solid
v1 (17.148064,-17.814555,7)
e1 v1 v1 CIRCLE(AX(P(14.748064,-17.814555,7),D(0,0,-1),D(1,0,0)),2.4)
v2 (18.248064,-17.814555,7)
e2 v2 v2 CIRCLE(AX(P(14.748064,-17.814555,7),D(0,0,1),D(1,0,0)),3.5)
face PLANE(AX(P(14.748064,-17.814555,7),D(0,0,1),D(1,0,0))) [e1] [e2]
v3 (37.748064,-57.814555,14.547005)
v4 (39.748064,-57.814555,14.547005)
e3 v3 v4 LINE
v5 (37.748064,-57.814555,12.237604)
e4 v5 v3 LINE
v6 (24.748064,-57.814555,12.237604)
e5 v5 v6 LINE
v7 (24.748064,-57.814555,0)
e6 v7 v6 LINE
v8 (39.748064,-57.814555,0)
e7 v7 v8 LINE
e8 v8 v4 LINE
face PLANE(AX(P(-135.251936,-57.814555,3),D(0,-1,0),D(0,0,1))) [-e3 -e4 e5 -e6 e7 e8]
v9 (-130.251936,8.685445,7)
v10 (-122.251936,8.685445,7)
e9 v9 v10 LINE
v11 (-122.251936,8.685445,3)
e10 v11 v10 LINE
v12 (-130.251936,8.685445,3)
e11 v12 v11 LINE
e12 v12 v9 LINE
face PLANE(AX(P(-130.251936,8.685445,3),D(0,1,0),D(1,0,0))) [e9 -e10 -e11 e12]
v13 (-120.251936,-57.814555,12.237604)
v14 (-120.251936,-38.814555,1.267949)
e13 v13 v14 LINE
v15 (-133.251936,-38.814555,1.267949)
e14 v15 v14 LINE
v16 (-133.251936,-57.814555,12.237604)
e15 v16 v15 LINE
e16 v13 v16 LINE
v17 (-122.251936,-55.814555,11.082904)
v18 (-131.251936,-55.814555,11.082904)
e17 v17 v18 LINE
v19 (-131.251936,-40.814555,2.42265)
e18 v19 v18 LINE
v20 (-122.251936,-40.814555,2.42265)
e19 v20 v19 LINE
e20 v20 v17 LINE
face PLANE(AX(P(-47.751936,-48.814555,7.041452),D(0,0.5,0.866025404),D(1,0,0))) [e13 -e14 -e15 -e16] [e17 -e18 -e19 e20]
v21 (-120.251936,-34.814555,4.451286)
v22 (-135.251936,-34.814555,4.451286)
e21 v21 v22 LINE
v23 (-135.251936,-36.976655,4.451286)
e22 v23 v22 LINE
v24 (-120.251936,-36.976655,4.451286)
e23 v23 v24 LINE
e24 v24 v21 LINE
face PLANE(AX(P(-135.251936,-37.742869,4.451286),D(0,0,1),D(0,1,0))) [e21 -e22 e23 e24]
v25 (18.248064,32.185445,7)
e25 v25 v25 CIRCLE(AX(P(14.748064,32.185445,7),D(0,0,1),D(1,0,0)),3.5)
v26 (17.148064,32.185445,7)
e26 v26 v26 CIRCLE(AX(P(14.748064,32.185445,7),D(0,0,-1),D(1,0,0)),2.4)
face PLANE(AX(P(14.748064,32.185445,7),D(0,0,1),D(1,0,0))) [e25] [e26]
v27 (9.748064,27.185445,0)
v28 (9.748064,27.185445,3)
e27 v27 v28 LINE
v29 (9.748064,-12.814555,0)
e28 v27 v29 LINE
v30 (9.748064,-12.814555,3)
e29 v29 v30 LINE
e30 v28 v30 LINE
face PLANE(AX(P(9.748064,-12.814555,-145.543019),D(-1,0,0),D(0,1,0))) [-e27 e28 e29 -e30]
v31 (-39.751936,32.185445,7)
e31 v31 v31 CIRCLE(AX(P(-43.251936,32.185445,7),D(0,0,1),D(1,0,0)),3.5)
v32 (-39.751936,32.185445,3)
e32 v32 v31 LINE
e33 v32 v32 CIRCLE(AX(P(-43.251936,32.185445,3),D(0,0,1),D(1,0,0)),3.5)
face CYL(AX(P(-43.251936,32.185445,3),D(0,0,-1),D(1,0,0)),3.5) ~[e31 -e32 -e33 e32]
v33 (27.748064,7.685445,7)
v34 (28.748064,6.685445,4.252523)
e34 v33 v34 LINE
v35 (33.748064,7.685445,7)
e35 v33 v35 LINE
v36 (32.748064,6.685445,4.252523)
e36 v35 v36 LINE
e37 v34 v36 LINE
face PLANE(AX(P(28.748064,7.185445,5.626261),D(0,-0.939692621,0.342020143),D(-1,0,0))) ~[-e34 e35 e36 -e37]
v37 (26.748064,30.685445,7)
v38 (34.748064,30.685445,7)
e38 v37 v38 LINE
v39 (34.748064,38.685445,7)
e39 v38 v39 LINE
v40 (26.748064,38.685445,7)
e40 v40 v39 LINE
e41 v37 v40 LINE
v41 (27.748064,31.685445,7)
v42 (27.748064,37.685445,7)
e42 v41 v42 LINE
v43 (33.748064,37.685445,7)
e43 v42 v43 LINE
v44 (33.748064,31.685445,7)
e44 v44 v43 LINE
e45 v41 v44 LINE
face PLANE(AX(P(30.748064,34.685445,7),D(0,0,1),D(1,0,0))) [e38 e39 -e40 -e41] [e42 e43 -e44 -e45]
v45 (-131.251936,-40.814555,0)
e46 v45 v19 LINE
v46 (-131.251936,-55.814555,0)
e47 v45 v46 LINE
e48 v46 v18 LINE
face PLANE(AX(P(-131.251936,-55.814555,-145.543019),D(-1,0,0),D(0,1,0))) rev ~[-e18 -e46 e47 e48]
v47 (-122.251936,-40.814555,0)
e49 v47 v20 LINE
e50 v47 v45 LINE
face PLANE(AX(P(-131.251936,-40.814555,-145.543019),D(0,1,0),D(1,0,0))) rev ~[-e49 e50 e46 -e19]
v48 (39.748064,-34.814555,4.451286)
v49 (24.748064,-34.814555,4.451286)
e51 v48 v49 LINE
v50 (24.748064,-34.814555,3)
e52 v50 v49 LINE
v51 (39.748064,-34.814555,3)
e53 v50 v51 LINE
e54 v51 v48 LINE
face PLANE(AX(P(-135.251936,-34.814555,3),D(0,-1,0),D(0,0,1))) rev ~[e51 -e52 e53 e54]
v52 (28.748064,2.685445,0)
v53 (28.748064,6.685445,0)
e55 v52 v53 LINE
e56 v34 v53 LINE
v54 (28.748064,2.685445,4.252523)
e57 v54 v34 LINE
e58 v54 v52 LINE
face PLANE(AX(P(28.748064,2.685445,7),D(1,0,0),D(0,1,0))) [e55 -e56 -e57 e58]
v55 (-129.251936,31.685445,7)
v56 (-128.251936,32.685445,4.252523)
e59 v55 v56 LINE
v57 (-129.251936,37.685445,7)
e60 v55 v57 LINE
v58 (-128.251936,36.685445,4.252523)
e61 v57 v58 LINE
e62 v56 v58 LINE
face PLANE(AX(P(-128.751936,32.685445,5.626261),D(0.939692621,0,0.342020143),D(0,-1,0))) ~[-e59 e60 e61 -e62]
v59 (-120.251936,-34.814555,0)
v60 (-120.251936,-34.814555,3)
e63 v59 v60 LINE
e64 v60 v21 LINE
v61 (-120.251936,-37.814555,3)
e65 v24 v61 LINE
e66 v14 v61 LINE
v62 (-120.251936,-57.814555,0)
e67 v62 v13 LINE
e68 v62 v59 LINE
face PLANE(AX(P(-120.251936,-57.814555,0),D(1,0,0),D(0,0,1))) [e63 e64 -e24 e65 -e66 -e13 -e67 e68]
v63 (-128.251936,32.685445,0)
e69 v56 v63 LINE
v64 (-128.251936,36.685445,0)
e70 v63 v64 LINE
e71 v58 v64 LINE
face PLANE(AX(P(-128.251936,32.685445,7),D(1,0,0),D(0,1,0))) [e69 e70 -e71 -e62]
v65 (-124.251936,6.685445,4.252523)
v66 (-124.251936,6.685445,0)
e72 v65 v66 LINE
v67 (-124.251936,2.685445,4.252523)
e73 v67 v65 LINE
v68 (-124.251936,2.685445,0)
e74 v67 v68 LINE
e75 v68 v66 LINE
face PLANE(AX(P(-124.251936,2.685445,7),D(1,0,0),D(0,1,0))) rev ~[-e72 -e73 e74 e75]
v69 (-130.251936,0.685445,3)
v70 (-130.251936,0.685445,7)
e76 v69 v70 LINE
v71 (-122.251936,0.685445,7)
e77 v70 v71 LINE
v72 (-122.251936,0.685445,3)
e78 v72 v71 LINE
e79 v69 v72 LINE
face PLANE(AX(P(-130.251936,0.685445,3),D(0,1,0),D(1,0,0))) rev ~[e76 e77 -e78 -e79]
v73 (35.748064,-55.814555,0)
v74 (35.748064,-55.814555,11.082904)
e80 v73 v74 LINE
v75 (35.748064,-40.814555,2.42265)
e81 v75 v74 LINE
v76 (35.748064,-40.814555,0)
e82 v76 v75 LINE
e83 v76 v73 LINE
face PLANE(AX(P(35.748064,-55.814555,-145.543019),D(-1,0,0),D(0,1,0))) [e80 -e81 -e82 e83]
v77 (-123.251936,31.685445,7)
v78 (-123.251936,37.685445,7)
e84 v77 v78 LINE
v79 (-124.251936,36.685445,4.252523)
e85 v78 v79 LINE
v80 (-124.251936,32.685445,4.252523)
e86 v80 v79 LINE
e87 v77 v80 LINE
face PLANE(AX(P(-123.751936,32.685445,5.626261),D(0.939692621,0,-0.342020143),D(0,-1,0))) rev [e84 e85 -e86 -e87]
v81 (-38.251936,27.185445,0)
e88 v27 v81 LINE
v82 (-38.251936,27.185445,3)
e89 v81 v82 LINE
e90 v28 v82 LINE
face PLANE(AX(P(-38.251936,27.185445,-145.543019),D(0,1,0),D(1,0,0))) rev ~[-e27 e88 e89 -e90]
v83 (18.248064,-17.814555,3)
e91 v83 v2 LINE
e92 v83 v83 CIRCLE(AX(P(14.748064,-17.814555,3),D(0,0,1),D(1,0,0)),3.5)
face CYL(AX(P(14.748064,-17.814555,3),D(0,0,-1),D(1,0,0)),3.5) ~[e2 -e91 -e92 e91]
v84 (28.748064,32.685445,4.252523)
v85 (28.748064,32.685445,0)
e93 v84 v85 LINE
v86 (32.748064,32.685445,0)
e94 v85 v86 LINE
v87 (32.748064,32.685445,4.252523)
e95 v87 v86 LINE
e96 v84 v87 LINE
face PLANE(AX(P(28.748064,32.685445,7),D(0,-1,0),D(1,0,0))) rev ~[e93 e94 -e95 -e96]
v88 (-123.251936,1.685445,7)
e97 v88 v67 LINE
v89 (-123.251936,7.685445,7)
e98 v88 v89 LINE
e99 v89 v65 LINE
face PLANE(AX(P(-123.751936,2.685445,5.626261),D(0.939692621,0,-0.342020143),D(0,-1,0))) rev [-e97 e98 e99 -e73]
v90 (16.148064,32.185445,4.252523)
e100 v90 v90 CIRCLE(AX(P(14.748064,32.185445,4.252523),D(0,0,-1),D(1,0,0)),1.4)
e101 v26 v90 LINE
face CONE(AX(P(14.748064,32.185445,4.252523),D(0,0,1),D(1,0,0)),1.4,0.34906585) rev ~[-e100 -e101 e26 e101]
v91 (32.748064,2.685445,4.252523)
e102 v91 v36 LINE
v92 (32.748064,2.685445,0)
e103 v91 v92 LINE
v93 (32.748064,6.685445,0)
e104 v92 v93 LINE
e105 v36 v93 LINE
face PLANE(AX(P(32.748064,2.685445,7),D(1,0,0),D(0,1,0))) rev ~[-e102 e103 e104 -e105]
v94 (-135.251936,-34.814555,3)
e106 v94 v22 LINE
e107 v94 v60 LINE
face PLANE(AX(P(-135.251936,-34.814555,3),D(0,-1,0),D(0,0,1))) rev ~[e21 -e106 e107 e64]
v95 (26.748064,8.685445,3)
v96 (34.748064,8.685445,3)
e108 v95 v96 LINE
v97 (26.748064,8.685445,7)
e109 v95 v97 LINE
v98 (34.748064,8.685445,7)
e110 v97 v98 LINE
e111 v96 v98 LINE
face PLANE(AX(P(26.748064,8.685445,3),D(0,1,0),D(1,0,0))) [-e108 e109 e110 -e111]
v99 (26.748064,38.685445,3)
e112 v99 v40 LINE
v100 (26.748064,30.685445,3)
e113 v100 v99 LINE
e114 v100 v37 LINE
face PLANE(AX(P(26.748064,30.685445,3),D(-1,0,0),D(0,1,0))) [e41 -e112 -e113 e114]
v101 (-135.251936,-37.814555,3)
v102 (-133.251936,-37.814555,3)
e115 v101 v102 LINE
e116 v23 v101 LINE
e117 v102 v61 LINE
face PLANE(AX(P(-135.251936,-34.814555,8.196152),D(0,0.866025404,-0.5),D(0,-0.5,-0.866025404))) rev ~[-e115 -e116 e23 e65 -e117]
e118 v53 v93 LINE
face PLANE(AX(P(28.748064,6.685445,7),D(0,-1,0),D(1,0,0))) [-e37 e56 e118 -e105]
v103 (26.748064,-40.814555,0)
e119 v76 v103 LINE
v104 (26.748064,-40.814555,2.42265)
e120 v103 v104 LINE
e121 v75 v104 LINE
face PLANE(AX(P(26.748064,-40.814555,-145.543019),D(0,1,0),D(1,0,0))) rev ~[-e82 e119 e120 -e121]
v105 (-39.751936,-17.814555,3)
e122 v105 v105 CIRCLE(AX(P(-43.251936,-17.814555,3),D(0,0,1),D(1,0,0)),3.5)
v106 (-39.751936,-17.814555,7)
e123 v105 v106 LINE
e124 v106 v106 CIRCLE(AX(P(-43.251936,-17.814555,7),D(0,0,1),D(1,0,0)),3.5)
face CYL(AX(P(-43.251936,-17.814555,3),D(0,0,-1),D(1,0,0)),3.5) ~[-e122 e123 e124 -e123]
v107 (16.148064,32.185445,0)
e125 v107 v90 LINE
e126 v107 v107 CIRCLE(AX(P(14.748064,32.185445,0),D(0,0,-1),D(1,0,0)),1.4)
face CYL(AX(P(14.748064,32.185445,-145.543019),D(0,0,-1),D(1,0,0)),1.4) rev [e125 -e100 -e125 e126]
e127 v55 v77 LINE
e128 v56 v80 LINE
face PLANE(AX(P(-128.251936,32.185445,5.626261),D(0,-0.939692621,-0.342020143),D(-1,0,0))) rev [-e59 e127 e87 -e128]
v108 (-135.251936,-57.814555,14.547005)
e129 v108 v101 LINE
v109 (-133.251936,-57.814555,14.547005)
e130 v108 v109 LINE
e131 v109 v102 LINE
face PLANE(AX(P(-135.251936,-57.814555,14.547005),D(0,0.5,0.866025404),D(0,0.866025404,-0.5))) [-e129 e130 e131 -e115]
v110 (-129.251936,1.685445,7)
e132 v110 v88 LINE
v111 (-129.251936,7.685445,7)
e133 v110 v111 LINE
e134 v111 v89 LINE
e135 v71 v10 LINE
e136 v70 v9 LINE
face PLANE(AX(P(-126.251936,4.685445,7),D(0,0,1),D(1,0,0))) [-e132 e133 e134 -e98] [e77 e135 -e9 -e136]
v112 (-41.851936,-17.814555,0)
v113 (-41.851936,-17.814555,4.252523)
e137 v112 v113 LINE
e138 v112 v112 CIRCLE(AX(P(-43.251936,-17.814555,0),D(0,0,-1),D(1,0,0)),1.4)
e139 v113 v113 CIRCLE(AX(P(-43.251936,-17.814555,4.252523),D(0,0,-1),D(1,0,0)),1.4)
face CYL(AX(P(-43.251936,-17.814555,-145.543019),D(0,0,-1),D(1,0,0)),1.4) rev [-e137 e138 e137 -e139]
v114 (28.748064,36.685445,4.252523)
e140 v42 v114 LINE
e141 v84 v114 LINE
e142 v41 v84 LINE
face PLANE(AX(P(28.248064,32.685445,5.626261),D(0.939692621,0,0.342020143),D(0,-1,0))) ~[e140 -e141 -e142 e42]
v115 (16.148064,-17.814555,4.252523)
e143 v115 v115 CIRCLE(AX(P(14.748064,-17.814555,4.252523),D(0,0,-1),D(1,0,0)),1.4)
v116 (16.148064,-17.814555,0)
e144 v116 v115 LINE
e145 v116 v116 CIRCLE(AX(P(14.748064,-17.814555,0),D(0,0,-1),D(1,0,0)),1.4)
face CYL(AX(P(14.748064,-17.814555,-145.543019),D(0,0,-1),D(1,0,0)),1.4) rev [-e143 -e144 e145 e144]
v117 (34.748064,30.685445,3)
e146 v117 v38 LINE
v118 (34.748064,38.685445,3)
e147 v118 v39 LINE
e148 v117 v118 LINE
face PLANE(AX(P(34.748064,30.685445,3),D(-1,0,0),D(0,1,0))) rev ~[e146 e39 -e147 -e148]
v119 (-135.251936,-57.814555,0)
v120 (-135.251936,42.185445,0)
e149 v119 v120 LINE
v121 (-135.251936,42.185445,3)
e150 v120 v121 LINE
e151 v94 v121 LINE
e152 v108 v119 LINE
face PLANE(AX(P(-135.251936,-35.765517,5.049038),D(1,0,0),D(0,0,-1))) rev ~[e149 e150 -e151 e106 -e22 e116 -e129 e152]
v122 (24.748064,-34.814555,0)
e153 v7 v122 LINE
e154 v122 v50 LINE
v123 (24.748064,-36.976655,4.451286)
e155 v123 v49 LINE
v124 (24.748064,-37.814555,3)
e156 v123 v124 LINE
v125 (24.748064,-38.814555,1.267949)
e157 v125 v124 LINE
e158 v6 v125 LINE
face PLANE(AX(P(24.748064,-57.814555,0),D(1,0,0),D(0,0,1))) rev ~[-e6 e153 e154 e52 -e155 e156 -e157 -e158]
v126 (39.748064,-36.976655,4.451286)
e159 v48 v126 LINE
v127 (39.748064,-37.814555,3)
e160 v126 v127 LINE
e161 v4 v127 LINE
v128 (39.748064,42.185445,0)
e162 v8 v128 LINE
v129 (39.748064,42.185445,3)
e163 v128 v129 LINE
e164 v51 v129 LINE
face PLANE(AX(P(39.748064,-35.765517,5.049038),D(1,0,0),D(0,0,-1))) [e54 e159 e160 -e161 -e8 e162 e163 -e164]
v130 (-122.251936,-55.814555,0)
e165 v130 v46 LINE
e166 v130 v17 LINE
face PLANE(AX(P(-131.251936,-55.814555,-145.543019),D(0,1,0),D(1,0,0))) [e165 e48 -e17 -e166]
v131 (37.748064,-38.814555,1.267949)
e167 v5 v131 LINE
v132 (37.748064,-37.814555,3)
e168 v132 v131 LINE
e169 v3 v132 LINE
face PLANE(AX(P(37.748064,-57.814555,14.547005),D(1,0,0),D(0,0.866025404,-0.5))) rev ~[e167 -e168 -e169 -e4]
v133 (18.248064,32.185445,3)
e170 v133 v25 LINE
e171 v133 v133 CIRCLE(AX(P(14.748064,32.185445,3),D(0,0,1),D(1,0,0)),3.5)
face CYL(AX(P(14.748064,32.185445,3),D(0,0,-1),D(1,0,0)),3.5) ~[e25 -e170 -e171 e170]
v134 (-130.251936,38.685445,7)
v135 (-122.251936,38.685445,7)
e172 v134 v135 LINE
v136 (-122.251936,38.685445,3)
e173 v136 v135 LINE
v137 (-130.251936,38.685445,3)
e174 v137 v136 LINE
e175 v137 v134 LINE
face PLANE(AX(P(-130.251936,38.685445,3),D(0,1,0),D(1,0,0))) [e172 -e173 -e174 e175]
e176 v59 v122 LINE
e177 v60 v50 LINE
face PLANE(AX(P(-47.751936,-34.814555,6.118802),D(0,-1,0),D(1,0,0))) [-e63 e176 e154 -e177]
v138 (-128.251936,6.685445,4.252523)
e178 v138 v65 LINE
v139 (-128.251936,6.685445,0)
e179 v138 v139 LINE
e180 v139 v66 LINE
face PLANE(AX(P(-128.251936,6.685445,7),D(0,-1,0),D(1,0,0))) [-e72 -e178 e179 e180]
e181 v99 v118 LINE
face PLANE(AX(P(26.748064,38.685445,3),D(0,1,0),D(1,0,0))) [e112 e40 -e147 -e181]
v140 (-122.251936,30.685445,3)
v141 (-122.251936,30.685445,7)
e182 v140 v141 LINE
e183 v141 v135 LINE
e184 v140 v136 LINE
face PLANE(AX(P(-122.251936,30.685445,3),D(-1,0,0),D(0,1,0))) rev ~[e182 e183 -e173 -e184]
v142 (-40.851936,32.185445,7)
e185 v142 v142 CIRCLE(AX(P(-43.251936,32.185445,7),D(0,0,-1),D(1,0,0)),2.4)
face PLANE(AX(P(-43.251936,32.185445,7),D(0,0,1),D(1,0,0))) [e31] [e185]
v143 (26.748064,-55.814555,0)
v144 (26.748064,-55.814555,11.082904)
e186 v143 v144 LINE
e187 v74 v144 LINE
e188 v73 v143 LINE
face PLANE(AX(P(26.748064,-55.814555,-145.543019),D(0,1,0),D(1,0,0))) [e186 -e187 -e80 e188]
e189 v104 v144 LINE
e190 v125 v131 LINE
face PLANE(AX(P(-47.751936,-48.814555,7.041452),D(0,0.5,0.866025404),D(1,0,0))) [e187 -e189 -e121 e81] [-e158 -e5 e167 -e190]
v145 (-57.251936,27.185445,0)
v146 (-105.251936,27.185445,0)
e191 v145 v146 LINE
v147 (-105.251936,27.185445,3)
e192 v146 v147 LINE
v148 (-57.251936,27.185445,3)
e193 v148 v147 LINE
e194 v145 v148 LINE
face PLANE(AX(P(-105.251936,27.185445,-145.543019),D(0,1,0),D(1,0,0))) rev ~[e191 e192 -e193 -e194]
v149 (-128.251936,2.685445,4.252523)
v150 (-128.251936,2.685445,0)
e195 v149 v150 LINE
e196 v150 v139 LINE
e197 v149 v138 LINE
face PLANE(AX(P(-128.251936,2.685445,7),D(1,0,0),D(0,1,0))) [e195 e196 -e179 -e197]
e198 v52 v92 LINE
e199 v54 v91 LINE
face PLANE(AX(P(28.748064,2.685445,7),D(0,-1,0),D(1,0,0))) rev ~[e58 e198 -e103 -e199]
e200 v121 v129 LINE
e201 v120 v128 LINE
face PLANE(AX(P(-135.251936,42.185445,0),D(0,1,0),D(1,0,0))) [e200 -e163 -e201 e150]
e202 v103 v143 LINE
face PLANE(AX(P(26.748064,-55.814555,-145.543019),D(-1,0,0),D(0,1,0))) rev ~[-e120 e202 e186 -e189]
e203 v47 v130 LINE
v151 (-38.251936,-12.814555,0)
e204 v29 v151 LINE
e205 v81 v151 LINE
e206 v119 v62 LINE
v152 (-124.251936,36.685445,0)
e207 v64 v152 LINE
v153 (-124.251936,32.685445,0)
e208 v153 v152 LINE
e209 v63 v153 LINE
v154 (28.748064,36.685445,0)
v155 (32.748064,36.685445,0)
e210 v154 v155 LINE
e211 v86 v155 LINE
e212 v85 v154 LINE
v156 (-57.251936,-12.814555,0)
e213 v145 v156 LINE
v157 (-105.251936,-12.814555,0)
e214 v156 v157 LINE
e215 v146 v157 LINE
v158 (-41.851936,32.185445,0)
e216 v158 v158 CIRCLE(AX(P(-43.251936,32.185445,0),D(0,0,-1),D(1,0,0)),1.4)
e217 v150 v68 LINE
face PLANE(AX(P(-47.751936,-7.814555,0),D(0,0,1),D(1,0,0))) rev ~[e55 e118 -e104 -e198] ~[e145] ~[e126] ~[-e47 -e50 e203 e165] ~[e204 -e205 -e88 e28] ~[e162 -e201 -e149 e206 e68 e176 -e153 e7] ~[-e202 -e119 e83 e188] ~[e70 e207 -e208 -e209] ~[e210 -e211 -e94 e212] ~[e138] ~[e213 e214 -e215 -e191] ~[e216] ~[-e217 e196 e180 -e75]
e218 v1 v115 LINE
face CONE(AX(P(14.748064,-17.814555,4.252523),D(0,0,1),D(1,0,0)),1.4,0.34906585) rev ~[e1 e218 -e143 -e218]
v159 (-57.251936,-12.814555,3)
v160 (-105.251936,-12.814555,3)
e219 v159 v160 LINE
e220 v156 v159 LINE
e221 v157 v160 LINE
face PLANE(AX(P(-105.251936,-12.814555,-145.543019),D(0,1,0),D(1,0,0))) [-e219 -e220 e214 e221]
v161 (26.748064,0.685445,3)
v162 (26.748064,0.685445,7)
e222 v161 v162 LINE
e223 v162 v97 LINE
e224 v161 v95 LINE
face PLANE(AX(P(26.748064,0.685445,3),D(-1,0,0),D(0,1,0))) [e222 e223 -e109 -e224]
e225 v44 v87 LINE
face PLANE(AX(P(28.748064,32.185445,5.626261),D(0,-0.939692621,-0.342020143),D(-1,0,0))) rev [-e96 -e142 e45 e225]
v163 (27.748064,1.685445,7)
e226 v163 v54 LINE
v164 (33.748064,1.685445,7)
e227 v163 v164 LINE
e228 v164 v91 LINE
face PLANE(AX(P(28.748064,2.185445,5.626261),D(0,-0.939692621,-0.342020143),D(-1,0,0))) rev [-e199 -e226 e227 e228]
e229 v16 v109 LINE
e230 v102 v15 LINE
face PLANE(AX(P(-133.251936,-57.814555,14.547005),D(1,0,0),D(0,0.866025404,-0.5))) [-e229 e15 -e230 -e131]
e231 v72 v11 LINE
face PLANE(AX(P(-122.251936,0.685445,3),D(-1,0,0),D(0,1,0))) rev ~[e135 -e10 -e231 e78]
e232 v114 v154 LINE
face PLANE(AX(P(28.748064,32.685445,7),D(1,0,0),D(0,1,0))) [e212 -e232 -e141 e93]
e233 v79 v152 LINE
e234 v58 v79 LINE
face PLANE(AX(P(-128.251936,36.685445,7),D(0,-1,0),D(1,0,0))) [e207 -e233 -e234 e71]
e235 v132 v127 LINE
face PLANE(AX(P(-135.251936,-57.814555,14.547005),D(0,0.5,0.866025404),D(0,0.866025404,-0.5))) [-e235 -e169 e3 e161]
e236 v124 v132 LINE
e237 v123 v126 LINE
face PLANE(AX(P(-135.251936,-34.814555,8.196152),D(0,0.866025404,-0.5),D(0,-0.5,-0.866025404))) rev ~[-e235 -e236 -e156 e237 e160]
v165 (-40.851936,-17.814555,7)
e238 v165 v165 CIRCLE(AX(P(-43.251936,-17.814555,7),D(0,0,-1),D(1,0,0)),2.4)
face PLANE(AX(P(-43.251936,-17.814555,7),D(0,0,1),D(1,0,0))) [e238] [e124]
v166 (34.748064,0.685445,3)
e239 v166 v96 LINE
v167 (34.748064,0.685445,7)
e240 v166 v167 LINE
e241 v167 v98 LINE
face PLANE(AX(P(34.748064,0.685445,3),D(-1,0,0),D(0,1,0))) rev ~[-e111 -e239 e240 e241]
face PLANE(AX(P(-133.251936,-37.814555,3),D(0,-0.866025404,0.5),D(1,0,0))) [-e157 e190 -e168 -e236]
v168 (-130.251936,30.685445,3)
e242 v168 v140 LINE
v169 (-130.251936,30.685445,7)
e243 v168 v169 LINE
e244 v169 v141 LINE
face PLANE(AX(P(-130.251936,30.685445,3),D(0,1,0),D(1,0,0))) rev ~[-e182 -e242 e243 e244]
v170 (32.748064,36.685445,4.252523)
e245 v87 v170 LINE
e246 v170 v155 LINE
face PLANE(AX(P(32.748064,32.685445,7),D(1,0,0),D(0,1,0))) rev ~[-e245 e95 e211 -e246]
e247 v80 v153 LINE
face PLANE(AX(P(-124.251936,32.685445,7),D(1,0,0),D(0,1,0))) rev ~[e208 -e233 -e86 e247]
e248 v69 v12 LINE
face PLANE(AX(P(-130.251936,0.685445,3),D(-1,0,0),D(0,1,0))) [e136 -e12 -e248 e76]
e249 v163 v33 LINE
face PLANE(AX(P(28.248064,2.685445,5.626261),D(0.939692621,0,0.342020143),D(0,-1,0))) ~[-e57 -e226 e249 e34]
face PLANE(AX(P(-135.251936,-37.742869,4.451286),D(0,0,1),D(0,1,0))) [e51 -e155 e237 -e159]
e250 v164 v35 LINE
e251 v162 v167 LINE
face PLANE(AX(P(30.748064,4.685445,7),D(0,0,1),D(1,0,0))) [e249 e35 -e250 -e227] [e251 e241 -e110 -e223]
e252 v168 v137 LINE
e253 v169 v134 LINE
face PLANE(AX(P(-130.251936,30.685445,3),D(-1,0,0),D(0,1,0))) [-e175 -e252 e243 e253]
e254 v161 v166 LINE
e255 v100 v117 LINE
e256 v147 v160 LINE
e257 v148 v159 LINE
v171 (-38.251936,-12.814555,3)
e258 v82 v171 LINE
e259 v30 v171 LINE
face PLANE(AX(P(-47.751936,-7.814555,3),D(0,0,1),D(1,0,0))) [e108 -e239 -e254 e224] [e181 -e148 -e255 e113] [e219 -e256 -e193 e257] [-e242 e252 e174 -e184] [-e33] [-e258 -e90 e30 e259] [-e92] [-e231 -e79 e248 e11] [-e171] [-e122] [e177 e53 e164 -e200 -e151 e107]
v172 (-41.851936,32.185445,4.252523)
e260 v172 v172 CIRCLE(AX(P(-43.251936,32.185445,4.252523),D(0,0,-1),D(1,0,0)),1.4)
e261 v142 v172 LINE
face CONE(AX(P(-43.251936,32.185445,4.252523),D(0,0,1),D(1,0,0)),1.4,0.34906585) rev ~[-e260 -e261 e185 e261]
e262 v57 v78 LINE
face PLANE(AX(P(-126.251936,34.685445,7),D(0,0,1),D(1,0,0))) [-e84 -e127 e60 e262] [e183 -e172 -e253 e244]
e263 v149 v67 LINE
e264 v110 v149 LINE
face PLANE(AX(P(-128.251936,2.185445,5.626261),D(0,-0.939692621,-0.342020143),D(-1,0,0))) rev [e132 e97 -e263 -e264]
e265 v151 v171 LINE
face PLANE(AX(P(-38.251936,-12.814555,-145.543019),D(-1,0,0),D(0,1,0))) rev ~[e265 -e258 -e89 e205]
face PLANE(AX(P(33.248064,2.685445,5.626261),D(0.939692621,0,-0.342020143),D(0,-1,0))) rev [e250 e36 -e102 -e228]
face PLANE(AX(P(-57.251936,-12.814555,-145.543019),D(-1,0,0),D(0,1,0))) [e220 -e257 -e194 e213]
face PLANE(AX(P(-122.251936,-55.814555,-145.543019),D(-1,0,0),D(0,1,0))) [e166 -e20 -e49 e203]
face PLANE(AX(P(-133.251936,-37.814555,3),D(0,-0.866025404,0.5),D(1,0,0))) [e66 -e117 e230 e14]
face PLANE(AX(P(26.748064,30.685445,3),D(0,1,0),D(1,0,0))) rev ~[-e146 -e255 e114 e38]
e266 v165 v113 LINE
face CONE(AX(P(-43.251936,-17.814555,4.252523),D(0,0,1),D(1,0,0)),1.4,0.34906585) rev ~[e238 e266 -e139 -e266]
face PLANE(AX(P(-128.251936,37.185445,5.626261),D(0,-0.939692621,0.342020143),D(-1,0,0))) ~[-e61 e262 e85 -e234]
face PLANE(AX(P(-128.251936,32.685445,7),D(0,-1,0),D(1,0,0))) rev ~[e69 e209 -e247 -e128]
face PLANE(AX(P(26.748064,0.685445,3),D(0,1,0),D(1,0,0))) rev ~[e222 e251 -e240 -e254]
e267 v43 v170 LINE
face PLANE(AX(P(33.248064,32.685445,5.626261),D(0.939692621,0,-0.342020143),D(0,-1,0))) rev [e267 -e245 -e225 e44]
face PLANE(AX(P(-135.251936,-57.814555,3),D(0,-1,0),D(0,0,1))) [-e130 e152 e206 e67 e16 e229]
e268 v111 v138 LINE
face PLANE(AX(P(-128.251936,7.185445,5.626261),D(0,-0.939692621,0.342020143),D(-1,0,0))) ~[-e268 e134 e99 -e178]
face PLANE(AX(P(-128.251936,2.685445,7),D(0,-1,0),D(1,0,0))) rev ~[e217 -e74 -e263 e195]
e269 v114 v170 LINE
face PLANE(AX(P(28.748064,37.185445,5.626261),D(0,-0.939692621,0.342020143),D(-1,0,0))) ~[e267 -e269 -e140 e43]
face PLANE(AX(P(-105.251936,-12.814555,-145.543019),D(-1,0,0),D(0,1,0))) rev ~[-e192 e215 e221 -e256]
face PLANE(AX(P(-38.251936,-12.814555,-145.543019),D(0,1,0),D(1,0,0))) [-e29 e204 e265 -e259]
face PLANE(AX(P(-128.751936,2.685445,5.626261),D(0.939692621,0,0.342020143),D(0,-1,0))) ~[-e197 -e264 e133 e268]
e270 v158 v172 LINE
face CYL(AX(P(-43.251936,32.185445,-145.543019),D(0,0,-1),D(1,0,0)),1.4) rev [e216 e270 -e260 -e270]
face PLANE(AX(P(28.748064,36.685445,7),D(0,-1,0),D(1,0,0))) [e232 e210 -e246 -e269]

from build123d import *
from OCP.BRepFilletAPI import BRepFilletAPI_MakeChamfer

# Parameters (mm, degrees)
SKETCH_1_W               = 175
SKETCH_1_H               = 100
EXTRUDE_1_DEPTH          = 3
EXTRUDE_3_DEPTH          = 175
EXTRUDE_4_DEPTH          = 175
SKETCH_7_W               = 4.38851426
SKETCH_7_H               = 4.191593749
CUT_EXTRUDE_3_DEPTH      = 185.87600743
SKETCH_8_W               = 171
SKETCH_8_H               = 23.094010767
CUT_EXTRUDE_4_DEPTH      = 2
SKETCH_10_R              = 3.5
SKETCH_10_W              = 8
SKETCH_10_H              = 8
EXTRUDE_6_DEPTH          = 4
CUT_EXTRUDE_6_DEPTH      = 148.543018566
CUT_EXTRUDE_6_DEPTH_BACK = 148.543018566
SKETCH_2_R               = 1.4
SKETCH_11_W              = 145
SKETCH_11_H              = 12.237604307
CUT_EXTRUDE_7_DEPTH      = 23
SKETCH_13_W              = 4
SKETCH_13_H              = 4
CUT_EXTRUDE_8_DEPTH      = 148.283964791
CHAMFER_1_SIZE           = 1
CHAMFER_1_SIZE2          = 2.747477419
CUT_EXTRUDE_9_DEPTH      = 148.543018566
CUT_EXTRUDE_9_DEPTH_BACK = 148.543018566
SKETCH_15_W              = 48
SKETCH_15_H              = 40
SKETCH_15_W_2            = 9
SKETCH_15_H_2            = 15


with BuildPart() as part:
    # 草图1 → 凸台-拉伸1 (new body)
    with BuildSketch(Plane.XY):
        with Locations((-47.751936166, -7.814554894)):
            Rectangle(SKETCH_1_W, SKETCH_1_H)
    extrude(amount=EXTRUDE_1_DEPTH)

    # 草图3 → 凸台-拉伸3 (add, through all)
    with BuildSketch(Plane.ZY.offset(135.251936166)):
        Polygon((3, -57.814554894), (14.547005384, -57.814554894), (3, -37.814554894), align=None)
    extrude(amount=-EXTRUDE_3_DEPTH)

    # 草图5 → 凸台-拉伸4 (add, through all)
    with BuildSketch(Plane.ZY.offset(135.251936166)):
        Polygon((3, -37.814554894), (3, -34.814554894), (8.196152423, -34.814554894), align=None)
    extrude(amount=-EXTRUDE_4_DEPTH)

    # 草图7 → 切除-拉伸3 (cut, through all)
    with BuildSketch(Plane.ZY.offset(135.251936166)):
        with Locations((6.645542678, -35.647071791)):
            Rectangle(SKETCH_7_W, SKETCH_7_H)
    extrude(amount=-CUT_EXTRUDE_3_DEPTH, mode=Mode.SUBTRACT)

    # 草图8 → 切除-拉伸4 (cut)
    with BuildSketch(Plane(origin=(0, -8.154600618, -14.124182585), x_dir=(1, 0, 0), z_dir=(0, 0.49999999999999506, 0.8660254037844415))):
        with Locations((-47.751936166, -45.795370555)):
            Rectangle(SKETCH_8_W, SKETCH_8_H)
    extrude(amount=-CUT_EXTRUDE_4_DEPTH, mode=Mode.SUBTRACT)

    # 草图10 → 凸台-拉伸6 (add)
    with BuildSketch(Plane.XY.offset(3)):
        with Locations((-43.251936166, 32.185445106)):
            Circle(SKETCH_10_R)
        with Locations((14.748063834, 32.185445106)):
            Circle(SKETCH_10_R)
        with Locations((-43.251936166, -17.814554894)):
            Circle(SKETCH_10_R)
        with Locations((14.748063834, -17.814554894)):
            Circle(SKETCH_10_R)
        with Locations((-126.251936166, 34.685445106)):
            Rectangle(SKETCH_10_W, SKETCH_10_H)
        with Locations((30.748063834, 34.685445106)):
            Rectangle(SKETCH_10_W, SKETCH_10_H)
        with Locations((-126.251936166, 4.685445106)):
            Rectangle(SKETCH_10_W, SKETCH_10_H)
        with Locations((30.748063834, 4.685445106)):
            Rectangle(SKETCH_10_W, SKETCH_10_H)
    extrude(amount=EXTRUDE_6_DEPTH)

    # 草图2 → 切除-拉伸6 (cut, two sides: drawn at the far end of the back side and taken through both)
    with BuildSketch(Plane.XY.offset(3).offset(-CUT_EXTRUDE_6_DEPTH_BACK)):
        with Locations((-43.251936166, 32.185445106)):
            Circle(SKETCH_2_R)
        with Locations((14.748063834, 32.185445106)):
            Circle(SKETCH_2_R)
        with Locations((14.748063834, -17.814554894)):
            Circle(SKETCH_2_R)
        with Locations((-43.251936166, -17.814554894)):
            Circle(SKETCH_2_R)
    extrude(amount=CUT_EXTRUDE_6_DEPTH + CUT_EXTRUDE_6_DEPTH_BACK, mode=Mode.SUBTRACT)

    # 草图11 → 切除-拉伸7 (cut)
    with BuildSketch(Plane.XZ.offset(57.814554894)):
        with Locations((-47.751936166, 6.118802154)):
            Rectangle(SKETCH_11_W, SKETCH_11_H)
    extrude(amount=-CUT_EXTRUDE_7_DEPTH, mode=Mode.SUBTRACT)

    # 草图13 → 切除-拉伸8 (cut, through all)
    with BuildSketch(Plane.XY.offset(7)):
        with Locations((-126.251936166, 34.685445106)):
            Rectangle(SKETCH_13_W, SKETCH_13_H)
        with Locations((30.748063834, 34.685445106)):
            Rectangle(SKETCH_13_W, SKETCH_13_H)
        with Locations((-126.251936166, 4.685445106)):
            Rectangle(SKETCH_13_W, SKETCH_13_H)
        with Locations((30.748063834, 4.685445106)):
            Rectangle(SKETCH_13_W, SKETCH_13_H)
    extrude(amount=-CUT_EXTRUDE_8_DEPTH, mode=Mode.SUBTRACT)

    # 倒角1: one chamfer whose edges measure the first distance from different faces: ONE call of the kernel's chamfer builder (chamfer() names one face for all edges)
    chamfer_1_edges_1 = [part.edges().sort_by_distance(p)[0] for p in [
        (13.348063834, 32.185445106, 7),
    ]]
    chamfer_1_side_1 = [part.faces().sort_by_distance(p)[0] for p in [
        (11.347058783, 32.185445106, 7),
    ]]
    chamfer_1_edges_2 = [part.edges().sort_by_distance(p)[0] for p in [
        (-44.651936166, -17.814554894, 7),
    ]]
    chamfer_1_side_2 = [part.faces().sort_by_distance(p)[0] for p in [
        (-46.652941217, -17.814554894, 7),
    ]]
    chamfer_1_edges_3 = [part.edges().sort_by_distance(p)[0] for p in [
        (13.348063834, -17.814554894, 7),
    ]]
    chamfer_1_side_3 = [part.faces().sort_by_distance(p)[0] for p in [
        (11.347058783, -17.814554894, 7),
    ]]
    chamfer_1_edges_4 = [part.edges().sort_by_distance(p)[0] for p in [
        (-44.651936166, 32.185445106, 7),
    ]]
    chamfer_1_side_4 = [part.faces().sort_by_distance(p)[0] for p in [
        (-46.652941217, 32.185445106, 7),
    ]]
    chamfer_1_edges_5 = [part.edges().sort_by_distance(p)[0] for p in [
        (30.748063834, 36.685445106, 7),
        (28.748063834, 34.685445106, 7),
        (30.748063834, 32.685445106, 7),
        (32.748063834, 34.685445106, 7),
    ]]
    chamfer_1_side_5 = [part.faces().sort_by_distance(p)[0] for p in [
        (26.861200919, 34.685445106, 7),
    ]]
    chamfer_1_edges_6 = [part.edges().sort_by_distance(p)[0] for p in [
        (-126.251936166, 6.685445106, 7),
        (-128.251936166, 4.685445106, 7),
        (-126.251936166, 2.685445106, 7),
        (-124.251936166, 4.685445106, 7),
    ]]
    chamfer_1_side_6 = [part.faces().sort_by_distance(p)[0] for p in [
        (-130.138799081, 4.685445106, 7),
    ]]
    chamfer_1_edges_7 = [part.edges().sort_by_distance(p)[0] for p in [
        (30.748063834, 6.685445106, 7),
        (28.748063834, 4.685445106, 7),
        (30.748063834, 2.685445106, 7),
        (32.748063834, 4.685445106, 7),
    ]]
    chamfer_1_side_7 = [part.faces().sort_by_distance(p)[0] for p in [
        (26.861200919, 4.685445106, 7),
    ]]
    chamfer_1_edges_8 = [part.edges().sort_by_distance(p)[0] for p in [
        (-128.251936166, 34.685445106, 7),
        (-126.251936166, 32.685445106, 7),
        (-124.251936166, 34.685445106, 7),
        (-126.251936166, 36.685445106, 7),
    ]]
    chamfer_1_side_8 = [part.faces().sort_by_distance(p)[0] for p in [
        (-126.251936166, 38.572308021, 7),
    ]]
    chamfer_1 = BRepFilletAPI_MakeChamfer(part.part.solid().wrapped)
    for e in chamfer_1_edges_1:
        chamfer_1.Add(CHAMFER_1_SIZE, CHAMFER_1_SIZE2, e.wrapped, chamfer_1_side_1[0].wrapped)  # the first distance lies on this face
    for e in chamfer_1_edges_2:
        chamfer_1.Add(CHAMFER_1_SIZE, CHAMFER_1_SIZE2, e.wrapped, chamfer_1_side_2[0].wrapped)  # the first distance lies on this face
    for e in chamfer_1_edges_3:
        chamfer_1.Add(CHAMFER_1_SIZE, CHAMFER_1_SIZE2, e.wrapped, chamfer_1_side_3[0].wrapped)  # the first distance lies on this face
    for e in chamfer_1_edges_4:
        chamfer_1.Add(CHAMFER_1_SIZE, CHAMFER_1_SIZE2, e.wrapped, chamfer_1_side_4[0].wrapped)  # the first distance lies on this face
    for e in chamfer_1_edges_5:
        chamfer_1.Add(CHAMFER_1_SIZE, CHAMFER_1_SIZE2, e.wrapped, chamfer_1_side_5[0].wrapped)  # the first distance lies on this face
    for e in chamfer_1_edges_6:
        chamfer_1.Add(CHAMFER_1_SIZE, CHAMFER_1_SIZE2, e.wrapped, chamfer_1_side_6[0].wrapped)  # the first distance lies on this face
    for e in chamfer_1_edges_7:
        chamfer_1.Add(CHAMFER_1_SIZE, CHAMFER_1_SIZE2, e.wrapped, chamfer_1_side_7[0].wrapped)  # the first distance lies on this face
    for e in chamfer_1_edges_8:
        chamfer_1.Add(CHAMFER_1_SIZE, CHAMFER_1_SIZE2, e.wrapped, chamfer_1_side_8[0].wrapped)  # the first distance lies on this face
    add(Compound.cast(chamfer_1.Shape()), mode=Mode.REPLACE)

    # 草图15 → 切除-拉伸9 (cut, two sides: drawn at the far end of the back side and taken through both)
    with BuildSketch(Plane.XY.offset(3).offset(-CUT_EXTRUDE_9_DEPTH_BACK)):
        with Locations((-81.251936166, 7.185445106)):
            Rectangle(SKETCH_15_W, SKETCH_15_H)
        with Locations((-14.251936166, 7.185445106)):
            Rectangle(SKETCH_15_W, SKETCH_15_H)
        with Locations((-126.751936166, -48.314554894)):
            Rectangle(SKETCH_15_W_2, SKETCH_15_H_2)
        with Locations((31.248063834, -48.314554894)):
            Rectangle(SKETCH_15_W_2, SKETCH_15_H_2)
    extrude(amount=CUT_EXTRUDE_9_DEPTH + CUT_EXTRUDE_9_DEPTH_BACK, mode=Mode.SUBTRACT)


solid = part.part
